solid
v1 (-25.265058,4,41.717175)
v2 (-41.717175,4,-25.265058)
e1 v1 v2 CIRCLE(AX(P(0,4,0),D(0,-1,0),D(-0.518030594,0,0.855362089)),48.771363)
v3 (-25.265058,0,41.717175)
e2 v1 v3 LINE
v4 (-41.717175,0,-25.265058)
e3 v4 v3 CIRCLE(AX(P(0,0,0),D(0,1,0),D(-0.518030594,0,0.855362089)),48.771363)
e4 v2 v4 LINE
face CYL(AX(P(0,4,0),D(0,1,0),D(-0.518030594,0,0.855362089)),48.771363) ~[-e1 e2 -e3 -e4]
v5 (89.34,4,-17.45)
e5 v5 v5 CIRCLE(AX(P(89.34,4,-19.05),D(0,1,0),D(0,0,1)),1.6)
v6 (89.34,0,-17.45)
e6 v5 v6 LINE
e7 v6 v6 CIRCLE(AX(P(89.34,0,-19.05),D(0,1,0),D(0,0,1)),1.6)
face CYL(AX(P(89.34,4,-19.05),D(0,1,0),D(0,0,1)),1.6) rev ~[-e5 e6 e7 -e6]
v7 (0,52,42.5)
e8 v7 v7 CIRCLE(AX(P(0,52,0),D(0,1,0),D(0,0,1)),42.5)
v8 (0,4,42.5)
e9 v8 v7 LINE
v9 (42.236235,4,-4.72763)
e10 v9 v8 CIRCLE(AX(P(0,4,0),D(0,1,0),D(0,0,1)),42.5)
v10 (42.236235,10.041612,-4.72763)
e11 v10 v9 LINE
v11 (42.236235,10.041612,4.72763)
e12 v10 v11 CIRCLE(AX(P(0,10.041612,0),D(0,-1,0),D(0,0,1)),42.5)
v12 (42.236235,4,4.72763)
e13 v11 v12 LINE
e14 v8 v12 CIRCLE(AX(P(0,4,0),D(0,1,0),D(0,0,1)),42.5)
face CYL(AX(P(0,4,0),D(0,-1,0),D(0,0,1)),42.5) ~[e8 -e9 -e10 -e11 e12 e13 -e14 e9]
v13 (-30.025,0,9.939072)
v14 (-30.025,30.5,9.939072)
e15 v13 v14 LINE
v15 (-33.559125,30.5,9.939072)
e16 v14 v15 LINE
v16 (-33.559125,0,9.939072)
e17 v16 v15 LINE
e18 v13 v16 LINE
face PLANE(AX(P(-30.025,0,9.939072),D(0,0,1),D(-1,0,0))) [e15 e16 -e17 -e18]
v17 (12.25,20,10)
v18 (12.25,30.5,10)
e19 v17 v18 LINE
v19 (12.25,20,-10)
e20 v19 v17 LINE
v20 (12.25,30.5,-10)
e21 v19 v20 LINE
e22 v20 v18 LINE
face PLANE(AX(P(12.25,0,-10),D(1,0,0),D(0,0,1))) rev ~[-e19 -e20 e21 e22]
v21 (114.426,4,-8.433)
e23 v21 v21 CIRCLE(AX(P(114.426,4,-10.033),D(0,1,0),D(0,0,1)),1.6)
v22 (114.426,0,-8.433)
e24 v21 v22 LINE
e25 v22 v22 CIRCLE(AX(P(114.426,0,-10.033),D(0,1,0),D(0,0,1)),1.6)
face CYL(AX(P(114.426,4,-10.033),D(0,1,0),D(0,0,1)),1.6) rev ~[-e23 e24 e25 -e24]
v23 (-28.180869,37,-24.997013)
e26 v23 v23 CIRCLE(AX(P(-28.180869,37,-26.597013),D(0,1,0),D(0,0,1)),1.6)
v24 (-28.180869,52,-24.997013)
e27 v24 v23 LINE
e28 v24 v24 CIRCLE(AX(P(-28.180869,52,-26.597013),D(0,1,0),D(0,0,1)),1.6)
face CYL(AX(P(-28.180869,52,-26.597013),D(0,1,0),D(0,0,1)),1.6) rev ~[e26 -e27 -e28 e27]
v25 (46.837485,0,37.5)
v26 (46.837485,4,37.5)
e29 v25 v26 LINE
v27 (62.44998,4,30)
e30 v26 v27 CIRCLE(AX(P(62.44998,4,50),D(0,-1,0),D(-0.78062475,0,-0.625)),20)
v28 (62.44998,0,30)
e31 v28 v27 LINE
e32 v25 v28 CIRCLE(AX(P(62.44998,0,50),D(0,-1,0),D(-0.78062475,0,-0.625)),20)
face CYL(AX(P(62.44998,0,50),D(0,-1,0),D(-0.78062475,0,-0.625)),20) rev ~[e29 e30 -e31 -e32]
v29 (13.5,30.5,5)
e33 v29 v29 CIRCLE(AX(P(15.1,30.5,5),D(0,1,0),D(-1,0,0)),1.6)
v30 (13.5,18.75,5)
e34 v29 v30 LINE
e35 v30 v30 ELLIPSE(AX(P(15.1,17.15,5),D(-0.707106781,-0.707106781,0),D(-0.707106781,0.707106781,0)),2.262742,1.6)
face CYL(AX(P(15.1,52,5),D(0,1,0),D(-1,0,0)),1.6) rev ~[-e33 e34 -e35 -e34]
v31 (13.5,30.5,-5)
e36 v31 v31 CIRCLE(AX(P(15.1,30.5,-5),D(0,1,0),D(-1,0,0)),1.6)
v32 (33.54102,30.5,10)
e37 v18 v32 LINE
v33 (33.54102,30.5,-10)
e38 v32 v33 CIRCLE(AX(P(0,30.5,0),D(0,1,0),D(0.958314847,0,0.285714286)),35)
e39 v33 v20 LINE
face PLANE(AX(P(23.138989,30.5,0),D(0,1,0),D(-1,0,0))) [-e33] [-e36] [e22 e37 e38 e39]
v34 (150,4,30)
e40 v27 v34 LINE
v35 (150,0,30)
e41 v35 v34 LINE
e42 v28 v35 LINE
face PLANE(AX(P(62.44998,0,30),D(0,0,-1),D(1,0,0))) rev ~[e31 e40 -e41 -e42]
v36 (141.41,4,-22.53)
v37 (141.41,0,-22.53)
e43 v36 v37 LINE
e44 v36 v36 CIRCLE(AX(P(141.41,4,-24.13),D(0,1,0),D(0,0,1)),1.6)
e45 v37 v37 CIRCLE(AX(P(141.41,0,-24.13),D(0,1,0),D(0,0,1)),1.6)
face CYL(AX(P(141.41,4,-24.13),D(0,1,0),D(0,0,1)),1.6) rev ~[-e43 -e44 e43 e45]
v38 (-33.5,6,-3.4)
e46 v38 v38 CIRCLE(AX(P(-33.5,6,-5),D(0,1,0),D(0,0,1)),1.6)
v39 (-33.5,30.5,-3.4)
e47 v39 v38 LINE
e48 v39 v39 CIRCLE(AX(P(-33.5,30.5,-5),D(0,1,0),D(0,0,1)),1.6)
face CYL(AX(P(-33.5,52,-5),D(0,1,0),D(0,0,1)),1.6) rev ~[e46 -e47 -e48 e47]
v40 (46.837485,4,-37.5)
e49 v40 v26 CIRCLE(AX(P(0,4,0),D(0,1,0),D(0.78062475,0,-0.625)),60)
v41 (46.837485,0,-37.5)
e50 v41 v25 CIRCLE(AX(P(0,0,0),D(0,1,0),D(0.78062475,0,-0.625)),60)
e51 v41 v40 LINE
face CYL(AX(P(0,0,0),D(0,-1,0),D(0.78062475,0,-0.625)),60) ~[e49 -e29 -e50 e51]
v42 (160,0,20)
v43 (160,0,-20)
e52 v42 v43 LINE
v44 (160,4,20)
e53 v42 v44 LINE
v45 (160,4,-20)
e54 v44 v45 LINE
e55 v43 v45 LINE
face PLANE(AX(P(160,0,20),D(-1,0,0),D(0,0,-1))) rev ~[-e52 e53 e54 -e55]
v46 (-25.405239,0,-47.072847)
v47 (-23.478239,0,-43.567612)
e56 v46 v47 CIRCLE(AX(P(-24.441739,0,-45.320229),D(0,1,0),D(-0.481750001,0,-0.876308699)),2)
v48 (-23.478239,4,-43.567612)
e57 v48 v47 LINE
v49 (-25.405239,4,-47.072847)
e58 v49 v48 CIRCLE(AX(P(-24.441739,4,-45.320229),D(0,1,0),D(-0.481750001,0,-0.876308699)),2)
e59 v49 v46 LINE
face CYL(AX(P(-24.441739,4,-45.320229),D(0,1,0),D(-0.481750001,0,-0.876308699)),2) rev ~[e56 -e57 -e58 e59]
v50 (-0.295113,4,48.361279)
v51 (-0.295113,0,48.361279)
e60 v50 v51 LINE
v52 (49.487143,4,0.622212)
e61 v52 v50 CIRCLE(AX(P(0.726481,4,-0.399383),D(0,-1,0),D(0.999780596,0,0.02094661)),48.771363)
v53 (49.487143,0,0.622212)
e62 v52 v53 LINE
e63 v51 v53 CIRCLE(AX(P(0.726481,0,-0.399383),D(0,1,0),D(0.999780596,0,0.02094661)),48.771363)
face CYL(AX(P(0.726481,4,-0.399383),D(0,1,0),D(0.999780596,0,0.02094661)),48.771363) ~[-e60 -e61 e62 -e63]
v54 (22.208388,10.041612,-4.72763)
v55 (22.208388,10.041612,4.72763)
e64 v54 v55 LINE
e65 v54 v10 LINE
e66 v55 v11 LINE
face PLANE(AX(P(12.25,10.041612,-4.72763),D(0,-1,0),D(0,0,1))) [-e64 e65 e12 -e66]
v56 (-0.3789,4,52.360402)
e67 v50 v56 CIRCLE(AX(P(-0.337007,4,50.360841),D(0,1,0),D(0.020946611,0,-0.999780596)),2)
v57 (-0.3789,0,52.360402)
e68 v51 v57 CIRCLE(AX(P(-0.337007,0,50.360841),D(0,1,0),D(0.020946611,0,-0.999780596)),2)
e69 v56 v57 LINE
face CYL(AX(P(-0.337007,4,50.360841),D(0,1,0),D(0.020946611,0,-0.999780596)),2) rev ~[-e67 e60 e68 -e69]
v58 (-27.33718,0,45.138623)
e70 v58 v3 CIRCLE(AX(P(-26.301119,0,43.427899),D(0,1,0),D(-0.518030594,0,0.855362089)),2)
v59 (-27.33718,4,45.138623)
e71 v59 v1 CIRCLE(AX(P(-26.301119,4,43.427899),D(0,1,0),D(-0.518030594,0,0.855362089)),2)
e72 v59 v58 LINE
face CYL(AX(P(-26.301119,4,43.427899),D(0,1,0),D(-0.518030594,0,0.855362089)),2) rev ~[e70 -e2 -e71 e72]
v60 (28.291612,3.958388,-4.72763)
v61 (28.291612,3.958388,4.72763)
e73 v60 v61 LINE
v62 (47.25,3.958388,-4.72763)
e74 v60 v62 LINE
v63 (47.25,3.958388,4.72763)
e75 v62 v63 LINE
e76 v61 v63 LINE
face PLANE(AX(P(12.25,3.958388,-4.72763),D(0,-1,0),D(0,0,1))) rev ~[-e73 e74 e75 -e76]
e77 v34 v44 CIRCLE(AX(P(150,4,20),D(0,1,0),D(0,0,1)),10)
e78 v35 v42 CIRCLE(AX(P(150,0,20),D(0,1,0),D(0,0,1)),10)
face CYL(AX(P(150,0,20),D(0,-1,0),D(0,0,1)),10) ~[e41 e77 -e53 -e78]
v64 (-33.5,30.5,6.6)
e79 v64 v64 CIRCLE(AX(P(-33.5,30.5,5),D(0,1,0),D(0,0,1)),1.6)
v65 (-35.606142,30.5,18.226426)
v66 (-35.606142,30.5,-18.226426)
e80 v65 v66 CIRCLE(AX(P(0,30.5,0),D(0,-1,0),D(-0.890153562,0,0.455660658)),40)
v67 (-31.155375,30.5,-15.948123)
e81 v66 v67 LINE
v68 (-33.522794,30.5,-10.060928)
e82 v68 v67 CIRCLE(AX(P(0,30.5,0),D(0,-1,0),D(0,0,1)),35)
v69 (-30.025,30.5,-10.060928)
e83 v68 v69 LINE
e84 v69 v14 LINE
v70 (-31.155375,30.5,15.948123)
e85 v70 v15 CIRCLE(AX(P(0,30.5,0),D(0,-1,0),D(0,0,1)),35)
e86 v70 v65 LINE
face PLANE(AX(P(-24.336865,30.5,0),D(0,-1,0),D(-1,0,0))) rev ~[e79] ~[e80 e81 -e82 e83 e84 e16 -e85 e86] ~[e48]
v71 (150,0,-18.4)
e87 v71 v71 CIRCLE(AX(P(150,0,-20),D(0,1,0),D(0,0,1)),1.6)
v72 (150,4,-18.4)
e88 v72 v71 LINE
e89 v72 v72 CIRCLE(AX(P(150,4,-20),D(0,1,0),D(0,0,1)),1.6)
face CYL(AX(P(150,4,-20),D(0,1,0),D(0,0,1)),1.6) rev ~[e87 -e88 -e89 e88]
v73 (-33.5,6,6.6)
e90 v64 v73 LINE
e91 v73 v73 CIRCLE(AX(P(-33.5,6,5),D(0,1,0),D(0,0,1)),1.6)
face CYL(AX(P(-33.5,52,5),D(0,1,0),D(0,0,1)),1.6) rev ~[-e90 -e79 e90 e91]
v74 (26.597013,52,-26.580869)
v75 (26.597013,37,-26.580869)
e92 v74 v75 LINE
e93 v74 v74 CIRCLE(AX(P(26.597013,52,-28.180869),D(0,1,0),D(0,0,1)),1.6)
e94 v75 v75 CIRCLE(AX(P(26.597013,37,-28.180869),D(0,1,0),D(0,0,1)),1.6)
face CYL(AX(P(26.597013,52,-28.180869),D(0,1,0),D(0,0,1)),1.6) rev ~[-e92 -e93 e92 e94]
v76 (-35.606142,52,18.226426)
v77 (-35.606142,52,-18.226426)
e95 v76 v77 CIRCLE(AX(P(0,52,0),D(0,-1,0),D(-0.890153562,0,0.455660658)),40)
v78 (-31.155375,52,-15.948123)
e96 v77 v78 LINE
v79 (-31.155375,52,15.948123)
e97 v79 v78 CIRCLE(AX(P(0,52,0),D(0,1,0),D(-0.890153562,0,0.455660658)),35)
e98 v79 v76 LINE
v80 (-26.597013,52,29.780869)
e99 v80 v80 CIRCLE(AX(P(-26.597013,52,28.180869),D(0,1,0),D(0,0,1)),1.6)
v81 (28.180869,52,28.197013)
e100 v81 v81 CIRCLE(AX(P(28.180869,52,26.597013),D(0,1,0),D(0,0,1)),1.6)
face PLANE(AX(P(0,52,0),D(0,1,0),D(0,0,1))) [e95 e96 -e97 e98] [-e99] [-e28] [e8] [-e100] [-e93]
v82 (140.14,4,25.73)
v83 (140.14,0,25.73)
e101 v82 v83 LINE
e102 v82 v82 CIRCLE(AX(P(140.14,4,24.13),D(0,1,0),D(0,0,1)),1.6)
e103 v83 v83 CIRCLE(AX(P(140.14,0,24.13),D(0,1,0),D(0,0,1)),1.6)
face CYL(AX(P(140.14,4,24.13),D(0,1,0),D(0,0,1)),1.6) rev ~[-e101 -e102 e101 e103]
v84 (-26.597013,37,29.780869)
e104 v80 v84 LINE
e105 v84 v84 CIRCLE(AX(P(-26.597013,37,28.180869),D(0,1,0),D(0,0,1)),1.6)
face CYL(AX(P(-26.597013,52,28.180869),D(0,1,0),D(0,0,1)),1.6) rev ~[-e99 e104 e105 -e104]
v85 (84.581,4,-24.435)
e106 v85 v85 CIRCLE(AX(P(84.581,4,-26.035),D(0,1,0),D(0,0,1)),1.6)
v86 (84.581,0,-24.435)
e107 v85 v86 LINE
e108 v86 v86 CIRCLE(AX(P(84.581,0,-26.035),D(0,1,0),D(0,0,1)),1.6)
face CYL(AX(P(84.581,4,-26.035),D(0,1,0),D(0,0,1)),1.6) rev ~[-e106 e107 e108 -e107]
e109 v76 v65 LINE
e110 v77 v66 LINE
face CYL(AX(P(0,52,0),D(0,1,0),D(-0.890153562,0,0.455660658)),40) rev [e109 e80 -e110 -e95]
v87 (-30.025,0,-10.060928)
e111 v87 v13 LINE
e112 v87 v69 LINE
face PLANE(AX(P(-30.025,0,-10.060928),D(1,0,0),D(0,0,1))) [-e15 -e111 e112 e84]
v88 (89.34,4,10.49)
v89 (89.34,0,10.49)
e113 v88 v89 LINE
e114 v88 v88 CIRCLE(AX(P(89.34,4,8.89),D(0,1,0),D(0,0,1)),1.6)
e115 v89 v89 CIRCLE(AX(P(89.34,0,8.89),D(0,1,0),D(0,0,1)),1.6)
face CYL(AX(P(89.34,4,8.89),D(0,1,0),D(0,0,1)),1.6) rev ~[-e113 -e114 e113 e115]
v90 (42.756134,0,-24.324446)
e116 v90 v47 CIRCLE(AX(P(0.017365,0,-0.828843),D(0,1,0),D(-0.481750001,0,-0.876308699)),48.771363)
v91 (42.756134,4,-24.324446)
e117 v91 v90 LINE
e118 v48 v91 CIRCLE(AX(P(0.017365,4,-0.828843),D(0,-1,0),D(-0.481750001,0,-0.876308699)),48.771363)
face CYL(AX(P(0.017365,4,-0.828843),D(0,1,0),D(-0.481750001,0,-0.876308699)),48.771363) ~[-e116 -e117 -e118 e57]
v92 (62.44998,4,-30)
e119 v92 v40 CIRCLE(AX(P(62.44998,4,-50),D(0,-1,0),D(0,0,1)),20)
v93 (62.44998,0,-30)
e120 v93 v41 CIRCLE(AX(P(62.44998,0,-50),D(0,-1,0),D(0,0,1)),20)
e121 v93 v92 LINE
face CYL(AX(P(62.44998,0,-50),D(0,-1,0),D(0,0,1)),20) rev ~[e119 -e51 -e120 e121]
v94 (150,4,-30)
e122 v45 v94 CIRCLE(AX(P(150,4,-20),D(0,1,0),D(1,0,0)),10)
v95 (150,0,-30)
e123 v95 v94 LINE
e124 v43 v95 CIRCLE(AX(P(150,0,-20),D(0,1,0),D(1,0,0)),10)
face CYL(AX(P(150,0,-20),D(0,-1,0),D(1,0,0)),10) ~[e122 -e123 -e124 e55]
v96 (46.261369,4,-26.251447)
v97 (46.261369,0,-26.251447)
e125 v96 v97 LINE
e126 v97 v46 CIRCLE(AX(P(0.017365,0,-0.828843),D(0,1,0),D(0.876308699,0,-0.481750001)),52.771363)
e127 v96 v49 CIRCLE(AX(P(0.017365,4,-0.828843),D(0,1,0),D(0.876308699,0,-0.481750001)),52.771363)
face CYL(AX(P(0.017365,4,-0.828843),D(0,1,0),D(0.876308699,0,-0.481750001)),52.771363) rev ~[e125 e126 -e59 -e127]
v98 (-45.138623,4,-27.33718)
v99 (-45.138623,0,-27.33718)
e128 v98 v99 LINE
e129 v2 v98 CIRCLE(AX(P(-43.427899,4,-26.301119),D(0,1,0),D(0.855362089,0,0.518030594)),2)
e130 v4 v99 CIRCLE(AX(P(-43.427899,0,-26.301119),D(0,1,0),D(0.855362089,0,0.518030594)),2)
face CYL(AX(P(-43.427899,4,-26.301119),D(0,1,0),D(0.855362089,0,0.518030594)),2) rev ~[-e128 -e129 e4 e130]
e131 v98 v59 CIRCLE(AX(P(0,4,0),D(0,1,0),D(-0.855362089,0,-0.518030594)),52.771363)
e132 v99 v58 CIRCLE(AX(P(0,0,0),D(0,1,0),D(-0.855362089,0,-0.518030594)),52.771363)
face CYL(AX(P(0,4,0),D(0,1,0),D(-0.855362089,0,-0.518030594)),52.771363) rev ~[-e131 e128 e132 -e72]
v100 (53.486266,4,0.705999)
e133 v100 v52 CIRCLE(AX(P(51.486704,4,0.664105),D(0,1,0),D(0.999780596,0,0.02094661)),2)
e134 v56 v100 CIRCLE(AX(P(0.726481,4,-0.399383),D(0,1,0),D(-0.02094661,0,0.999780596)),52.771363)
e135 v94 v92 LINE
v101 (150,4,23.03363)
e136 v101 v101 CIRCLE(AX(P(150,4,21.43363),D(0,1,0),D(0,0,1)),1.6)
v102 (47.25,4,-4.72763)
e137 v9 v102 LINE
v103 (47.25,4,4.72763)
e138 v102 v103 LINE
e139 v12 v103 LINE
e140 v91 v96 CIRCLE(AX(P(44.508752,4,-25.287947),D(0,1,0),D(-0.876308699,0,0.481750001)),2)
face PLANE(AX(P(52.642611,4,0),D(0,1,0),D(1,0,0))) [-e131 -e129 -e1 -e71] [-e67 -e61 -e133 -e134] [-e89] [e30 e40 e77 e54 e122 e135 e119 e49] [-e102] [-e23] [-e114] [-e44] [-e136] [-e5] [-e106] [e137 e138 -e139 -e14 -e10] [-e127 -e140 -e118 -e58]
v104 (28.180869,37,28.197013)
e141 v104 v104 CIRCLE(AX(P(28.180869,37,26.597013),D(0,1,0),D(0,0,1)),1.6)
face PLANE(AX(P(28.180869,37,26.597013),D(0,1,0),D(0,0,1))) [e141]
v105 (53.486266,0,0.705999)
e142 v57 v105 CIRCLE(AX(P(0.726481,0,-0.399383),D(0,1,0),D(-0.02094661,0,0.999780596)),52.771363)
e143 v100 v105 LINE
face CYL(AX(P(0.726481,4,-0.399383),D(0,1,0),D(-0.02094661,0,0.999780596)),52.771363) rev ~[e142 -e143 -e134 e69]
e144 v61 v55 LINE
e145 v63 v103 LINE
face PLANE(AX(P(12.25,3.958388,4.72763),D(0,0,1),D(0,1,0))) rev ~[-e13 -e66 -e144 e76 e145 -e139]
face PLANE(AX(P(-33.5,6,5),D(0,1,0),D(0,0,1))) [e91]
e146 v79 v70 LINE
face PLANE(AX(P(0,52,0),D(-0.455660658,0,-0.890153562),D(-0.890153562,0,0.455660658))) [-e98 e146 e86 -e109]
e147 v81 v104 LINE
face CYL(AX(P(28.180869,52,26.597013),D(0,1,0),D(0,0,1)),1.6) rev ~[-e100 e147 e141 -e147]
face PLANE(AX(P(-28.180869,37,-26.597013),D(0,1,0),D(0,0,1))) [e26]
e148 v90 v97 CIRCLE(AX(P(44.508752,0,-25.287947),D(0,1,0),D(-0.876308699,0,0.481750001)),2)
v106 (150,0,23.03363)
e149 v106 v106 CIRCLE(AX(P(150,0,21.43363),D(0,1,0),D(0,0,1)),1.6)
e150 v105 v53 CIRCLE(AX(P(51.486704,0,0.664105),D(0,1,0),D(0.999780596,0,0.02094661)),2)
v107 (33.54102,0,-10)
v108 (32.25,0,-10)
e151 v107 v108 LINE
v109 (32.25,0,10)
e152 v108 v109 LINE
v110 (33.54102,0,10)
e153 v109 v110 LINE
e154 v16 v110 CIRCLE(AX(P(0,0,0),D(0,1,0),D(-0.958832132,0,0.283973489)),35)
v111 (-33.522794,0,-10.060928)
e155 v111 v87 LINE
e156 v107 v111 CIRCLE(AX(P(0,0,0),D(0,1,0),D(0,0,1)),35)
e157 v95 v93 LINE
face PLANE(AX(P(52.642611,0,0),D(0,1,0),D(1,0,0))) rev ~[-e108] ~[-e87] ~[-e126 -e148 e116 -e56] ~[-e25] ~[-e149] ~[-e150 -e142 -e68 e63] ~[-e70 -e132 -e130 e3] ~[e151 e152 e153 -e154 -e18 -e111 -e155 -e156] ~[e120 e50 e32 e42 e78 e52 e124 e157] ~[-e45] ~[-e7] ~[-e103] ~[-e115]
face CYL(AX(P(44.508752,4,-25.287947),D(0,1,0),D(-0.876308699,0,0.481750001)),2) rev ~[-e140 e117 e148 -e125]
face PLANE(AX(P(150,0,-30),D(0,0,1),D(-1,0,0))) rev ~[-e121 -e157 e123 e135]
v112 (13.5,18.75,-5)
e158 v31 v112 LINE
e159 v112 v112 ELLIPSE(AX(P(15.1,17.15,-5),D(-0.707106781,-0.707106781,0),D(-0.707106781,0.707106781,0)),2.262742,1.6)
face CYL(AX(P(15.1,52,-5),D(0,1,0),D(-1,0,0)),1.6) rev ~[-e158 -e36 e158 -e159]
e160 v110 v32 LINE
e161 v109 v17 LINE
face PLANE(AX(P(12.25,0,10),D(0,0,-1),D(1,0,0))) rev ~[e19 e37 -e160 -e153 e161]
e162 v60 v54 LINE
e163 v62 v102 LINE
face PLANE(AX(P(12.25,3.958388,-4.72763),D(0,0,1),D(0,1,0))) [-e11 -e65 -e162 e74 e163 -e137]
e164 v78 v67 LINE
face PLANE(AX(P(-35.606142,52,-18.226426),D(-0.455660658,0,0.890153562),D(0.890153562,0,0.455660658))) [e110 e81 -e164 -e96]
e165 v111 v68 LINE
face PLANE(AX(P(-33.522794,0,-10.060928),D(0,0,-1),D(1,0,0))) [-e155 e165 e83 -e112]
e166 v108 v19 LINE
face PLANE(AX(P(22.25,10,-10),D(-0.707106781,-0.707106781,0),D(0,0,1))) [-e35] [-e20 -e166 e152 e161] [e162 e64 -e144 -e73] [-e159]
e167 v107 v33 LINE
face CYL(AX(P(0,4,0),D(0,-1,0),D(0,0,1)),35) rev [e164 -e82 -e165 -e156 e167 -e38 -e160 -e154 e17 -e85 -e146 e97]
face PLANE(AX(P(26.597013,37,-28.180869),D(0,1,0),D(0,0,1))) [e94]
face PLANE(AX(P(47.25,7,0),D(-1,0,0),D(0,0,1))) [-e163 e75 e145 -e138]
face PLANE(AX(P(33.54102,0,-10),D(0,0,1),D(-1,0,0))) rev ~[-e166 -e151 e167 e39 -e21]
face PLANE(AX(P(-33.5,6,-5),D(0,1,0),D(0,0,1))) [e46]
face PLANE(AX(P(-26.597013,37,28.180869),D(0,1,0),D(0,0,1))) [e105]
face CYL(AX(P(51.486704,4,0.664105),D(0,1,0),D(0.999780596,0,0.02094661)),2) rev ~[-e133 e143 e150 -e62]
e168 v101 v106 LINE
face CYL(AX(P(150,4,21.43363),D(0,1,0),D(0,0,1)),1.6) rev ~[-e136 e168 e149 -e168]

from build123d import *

# Parameters (mm, degrees)
SKETCH1_R           = 35
BOSS_EXTRUDE1_DEPTH = 4
SKETCH2_R           = 42.5
SKETCH2_R_2         = 35
BOSS_EXTRUDE2_DEPTH = 48
SKETCH3_R           = 1.6
CUT_EXTRUDE1_DEPTH  = 48
SKETCH4_R           = 1.6
CUT_EXTRUDE2_DEPTH  = 10
SKETCH8_R           = 1.6
CUT_EXTRUDE6_DEPTH  = 15
SKETCH10_R          = 1.6
CUT_EXTRUDE8_DEPTH  = 10
BOSS_EXTRUDE3_DEPTH = 30.5
CHAMFER1_SIZE       = 20
CUT_EXTRUDE11_DEPTH = 21.5
SKETCH15_R          = 1.6
CUT_EXTRUDE13_DEPTH = 46
SKETCH16_W          = 9.455259108
SKETCH16_H          = 6.083224026
CUT_EXTRUDE15_DEPTH = 35


with BuildPart() as part:
    # Sketch1 → Boss-Extrude1 (new body)
    with BuildSketch(Plane(origin=(0, 0, 0), x_dir=(1, 0, 0), z_dir=(0, 1, 0))):
        with BuildLine():
            Line((62.449979984, -30), (150, -30))
            ThreePointArc((150, -30), (157.071067812, -27.071067812), (160, -20))
            Line((160, -20), (160, 20))
            ThreePointArc((160, 20), (157.071067812, 27.071067812), (150, 30))
            Line((150, 30), (62.449979984, 30))
            ThreePointArc((62.449979984, 30), (53.789725946, 31.972243623), (46.837484988, 37.5))
            ThreePointArc((46.837484988, 37.5), (-60, 0), (46.837484988, -37.5))
            ThreePointArc((46.837484988, -37.5), (53.789725946, -31.972243623), (62.449979984, -30))
        make_face()
        with Locations(Location((0, 0, 0), (0, 0, 270))):
            Circle(SKETCH1_R, mode=Mode.SUBTRACT)
    extrude(amount=BOSS_EXTRUDE1_DEPTH)

    # Sketch2 → Boss-Extrude2 (add)
    with BuildSketch(Plane(origin=(0, 4, 0), x_dir=(1, 0, 0), z_dir=(0, 1, 0))):
        with Locations(Location((0, 0, 0), (0, 0, 270))):
            Circle(SKETCH2_R)
        with Locations(Location((0, 0, 0), (0, 0, 270))):
            Circle(SKETCH2_R_2, mode=Mode.SUBTRACT)
    extrude(amount=BOSS_EXTRUDE2_DEPTH)

    # Sketch3 → Cut-Extrude1 (cut)
    with BuildSketch(Plane(origin=(0, 4, 0), x_dir=(1, 0, 0), z_dir=(0, 1, 0))):
        with Locations(Location((150, 20, 0), (0, 0, 270))):
            Circle(SKETCH3_R)
        with Locations(Location((150, -21.433629542, 0), (0, 0, 270))):
            Circle(SKETCH3_R)
        with BuildLine():
            ThreePointArc((-45.13862288, 27.337180296), (-51.248131898, -12.587520766), (-27.337180296, -45.13862288))
            ThreePointArc((-27.337180296, -45.13862288), (-24.590394929, -44.463959891), (-25.265057918, -41.717174524))
            ThreePointArc((-25.265057918, -41.717174524), (-47.363590779, -11.633403217), (-41.717174524, 25.265057918))
            ThreePointArc((-41.717174524, 25.265057918), (-42.391837513, 28.011843285), (-45.13862288, 27.337180296))
        make_face()
        with BuildLine():
            ThreePointArc((46.261369296, 26.251446503), (14.740318447, 51.504787048), (-25.405238706, 47.072846589))
            ThreePointArc((-25.405238706, 47.072846589), (-26.194356102, 44.356729189), (-23.478238701, 43.567611793))
            ThreePointArc((-23.478238701, 43.567611793), (13.624337923, 47.663616983), (42.756134499, 24.324446498))
            ThreePointArc((42.756134499, 24.324446498), (45.4722519, 23.535329102), (46.261369296, 26.251446503))
        make_face()
        with BuildLine():
            ThreePointArc((-0.378899838, -52.36040173), (37.251660029, -37.689041213), (53.48626558, -0.705998641))
            ThreePointArc((53.48626558, -0.705998641), (51.528597609, 1.335455771), (49.487143197, -0.6222122))
            ThreePointArc((49.487143197, -0.6222122), (34.483099434, -34.801988697), (-0.295113397, -48.361279348))
            ThreePointArc((-0.295113397, -48.361279348), (-2.336567809, -50.318947318), (-0.378899838, -52.36040173))
        make_face()
    extrude(amount=-CUT_EXTRUDE1_DEPTH, mode=Mode.SUBTRACT)

    # Sketch4 → Cut-Extrude2 (cut)
    with BuildSketch(Plane(origin=(0, 4, 0), x_dir=(1, 0, 0), z_dir=(0, 1, 0))):
        with Locations(Location((89.34, -8.89, 0), (0, 0, 270))):
            Circle(SKETCH4_R)
        with Locations(Location((89.34, 19.05, 0), (0, 0, 270))):
            Circle(SKETCH4_R)
        with Locations(Location((140.14, -24.13, 0), (0, 0, 270))):
            Circle(SKETCH4_R)
        with Locations(Location((141.41, 24.13, 0), (0, 0, 270))):
            Circle(SKETCH4_R)
    extrude(amount=-CUT_EXTRUDE2_DEPTH, mode=Mode.SUBTRACT)

    # Sketch8 → Cut-Extrude6 (cut)
    with BuildSketch(Plane(origin=(0, 52, 0), x_dir=(1, 0, 0), z_dir=(0, 1, 0))):
        with Locations(Location((-26.597013041, -28.18086935, 0), (0, 0, 270))):
            Circle(SKETCH8_R)
        with Locations(Location((-28.18086935, 26.597013041, 0), (0, 0, 270))):
            Circle(SKETCH8_R)
        with Locations(Location((26.597013041, 28.18086935, 0), (0, 0, 270))):
            Circle(SKETCH8_R)
        with Locations(Location((28.18086935, -26.597013041, 0), (0, 0, 270))):
            Circle(SKETCH8_R)
    extrude(amount=-CUT_EXTRUDE6_DEPTH, mode=Mode.SUBTRACT)

    # Sketch10 → Cut-Extrude8 (cut)
    with BuildSketch(Plane(origin=(0, 4, 0), x_dir=(1, 0, 0), z_dir=(0, 1, 0))):
        with Locations(Location((84.581, 26.035, 0), (0, 0, 270))):
            Circle(SKETCH10_R)
        with Locations(Location((114.426, 10.033, 0), (0, 0, 270))):
            Circle(SKETCH10_R)
    extrude(amount=-CUT_EXTRUDE8_DEPTH, mode=Mode.SUBTRACT)

    # Sketch12 → Boss-Extrude3 (add)
    with BuildSketch(Plane.XZ):
        with BuildLine():
            Line((-30.025, -10.060927898), (-30.025, 9.939072102))
            Line((-30.025, 9.939072102), (-33.559124627, 9.939072102))
            ThreePointArc((-33.559124627, 9.939072102), (-34.999942254, -0.063578173), (-33.522794183, -10.060927898))
            Line((-33.522794183, -10.060927898), (-30.025, -10.060927898))
        make_face()
        with BuildLine():
            Line((12.25, -10), (12.25, 10))
            Line((12.25, 10), (33.541019662, 10))
            ThreePointArc((33.541019662, 10), (35, 0), (33.541019662, -10))
            Line((33.541019662, -10), (12.25, -10))
        make_face()
    extrude(amount=-BOSS_EXTRUDE3_DEPTH)

    # Chamfer1
    chamfer1_edges = [part.edges().sort_by_distance(p)[0] for p in [
        (12.25, 0, 0),
    ]]
    chamfer(chamfer1_edges, length=CHAMFER1_SIZE)

    # Sketch14 → Cut-Extrude11 (cut)
    with BuildSketch(Plane(origin=(0, 52, 0), x_dir=(1, 0, 0), z_dir=(0, 1, 0))):
        with BuildLine():
            Line((0, 0), (-35.606142497, -18.226426322))
            ThreePointArc((-35.606142497, -18.226426322), (-40, 0), (-35.606142497, 18.226426322))
            Line((-35.606142497, 18.226426322), (0, 0))
        make_face()
    extrude(amount=-CUT_EXTRUDE11_DEPTH, mode=Mode.SUBTRACT)

    # Sketch15 → Cut-Extrude13 (cut)
    with BuildSketch(Plane(origin=(0, 52, 0), x_dir=(1, 0, 0), z_dir=(0, 1, 0))):
        with Locations(Location((-33.5, -5, 0), (0, 0, 270))):
            Circle(SKETCH15_R)
        with Locations(Location((-33.5, 5, 0), (0, 0, 270))):
            Circle(SKETCH15_R)
        with Locations(Location((15.1, -5, 0), (0, 0, 180))):
            Circle(SKETCH15_R)
        with Locations(Location((15.1, 5, 0), (0, 0, 180))):
            Circle(SKETCH15_R)
    extrude(amount=-CUT_EXTRUDE13_DEPTH, mode=Mode.SUBTRACT)

    # Sketch16 → Cut-Extrude15 (cut)
    with BuildSketch(Plane.ZY.offset(-12.25)):
        with Locations((0, 7)):
            Rectangle(SKETCH16_W, SKETCH16_H)
    extrude(amount=-CUT_EXTRUDE15_DEPTH, mode=Mode.SUBTRACT)


solid = part.part
